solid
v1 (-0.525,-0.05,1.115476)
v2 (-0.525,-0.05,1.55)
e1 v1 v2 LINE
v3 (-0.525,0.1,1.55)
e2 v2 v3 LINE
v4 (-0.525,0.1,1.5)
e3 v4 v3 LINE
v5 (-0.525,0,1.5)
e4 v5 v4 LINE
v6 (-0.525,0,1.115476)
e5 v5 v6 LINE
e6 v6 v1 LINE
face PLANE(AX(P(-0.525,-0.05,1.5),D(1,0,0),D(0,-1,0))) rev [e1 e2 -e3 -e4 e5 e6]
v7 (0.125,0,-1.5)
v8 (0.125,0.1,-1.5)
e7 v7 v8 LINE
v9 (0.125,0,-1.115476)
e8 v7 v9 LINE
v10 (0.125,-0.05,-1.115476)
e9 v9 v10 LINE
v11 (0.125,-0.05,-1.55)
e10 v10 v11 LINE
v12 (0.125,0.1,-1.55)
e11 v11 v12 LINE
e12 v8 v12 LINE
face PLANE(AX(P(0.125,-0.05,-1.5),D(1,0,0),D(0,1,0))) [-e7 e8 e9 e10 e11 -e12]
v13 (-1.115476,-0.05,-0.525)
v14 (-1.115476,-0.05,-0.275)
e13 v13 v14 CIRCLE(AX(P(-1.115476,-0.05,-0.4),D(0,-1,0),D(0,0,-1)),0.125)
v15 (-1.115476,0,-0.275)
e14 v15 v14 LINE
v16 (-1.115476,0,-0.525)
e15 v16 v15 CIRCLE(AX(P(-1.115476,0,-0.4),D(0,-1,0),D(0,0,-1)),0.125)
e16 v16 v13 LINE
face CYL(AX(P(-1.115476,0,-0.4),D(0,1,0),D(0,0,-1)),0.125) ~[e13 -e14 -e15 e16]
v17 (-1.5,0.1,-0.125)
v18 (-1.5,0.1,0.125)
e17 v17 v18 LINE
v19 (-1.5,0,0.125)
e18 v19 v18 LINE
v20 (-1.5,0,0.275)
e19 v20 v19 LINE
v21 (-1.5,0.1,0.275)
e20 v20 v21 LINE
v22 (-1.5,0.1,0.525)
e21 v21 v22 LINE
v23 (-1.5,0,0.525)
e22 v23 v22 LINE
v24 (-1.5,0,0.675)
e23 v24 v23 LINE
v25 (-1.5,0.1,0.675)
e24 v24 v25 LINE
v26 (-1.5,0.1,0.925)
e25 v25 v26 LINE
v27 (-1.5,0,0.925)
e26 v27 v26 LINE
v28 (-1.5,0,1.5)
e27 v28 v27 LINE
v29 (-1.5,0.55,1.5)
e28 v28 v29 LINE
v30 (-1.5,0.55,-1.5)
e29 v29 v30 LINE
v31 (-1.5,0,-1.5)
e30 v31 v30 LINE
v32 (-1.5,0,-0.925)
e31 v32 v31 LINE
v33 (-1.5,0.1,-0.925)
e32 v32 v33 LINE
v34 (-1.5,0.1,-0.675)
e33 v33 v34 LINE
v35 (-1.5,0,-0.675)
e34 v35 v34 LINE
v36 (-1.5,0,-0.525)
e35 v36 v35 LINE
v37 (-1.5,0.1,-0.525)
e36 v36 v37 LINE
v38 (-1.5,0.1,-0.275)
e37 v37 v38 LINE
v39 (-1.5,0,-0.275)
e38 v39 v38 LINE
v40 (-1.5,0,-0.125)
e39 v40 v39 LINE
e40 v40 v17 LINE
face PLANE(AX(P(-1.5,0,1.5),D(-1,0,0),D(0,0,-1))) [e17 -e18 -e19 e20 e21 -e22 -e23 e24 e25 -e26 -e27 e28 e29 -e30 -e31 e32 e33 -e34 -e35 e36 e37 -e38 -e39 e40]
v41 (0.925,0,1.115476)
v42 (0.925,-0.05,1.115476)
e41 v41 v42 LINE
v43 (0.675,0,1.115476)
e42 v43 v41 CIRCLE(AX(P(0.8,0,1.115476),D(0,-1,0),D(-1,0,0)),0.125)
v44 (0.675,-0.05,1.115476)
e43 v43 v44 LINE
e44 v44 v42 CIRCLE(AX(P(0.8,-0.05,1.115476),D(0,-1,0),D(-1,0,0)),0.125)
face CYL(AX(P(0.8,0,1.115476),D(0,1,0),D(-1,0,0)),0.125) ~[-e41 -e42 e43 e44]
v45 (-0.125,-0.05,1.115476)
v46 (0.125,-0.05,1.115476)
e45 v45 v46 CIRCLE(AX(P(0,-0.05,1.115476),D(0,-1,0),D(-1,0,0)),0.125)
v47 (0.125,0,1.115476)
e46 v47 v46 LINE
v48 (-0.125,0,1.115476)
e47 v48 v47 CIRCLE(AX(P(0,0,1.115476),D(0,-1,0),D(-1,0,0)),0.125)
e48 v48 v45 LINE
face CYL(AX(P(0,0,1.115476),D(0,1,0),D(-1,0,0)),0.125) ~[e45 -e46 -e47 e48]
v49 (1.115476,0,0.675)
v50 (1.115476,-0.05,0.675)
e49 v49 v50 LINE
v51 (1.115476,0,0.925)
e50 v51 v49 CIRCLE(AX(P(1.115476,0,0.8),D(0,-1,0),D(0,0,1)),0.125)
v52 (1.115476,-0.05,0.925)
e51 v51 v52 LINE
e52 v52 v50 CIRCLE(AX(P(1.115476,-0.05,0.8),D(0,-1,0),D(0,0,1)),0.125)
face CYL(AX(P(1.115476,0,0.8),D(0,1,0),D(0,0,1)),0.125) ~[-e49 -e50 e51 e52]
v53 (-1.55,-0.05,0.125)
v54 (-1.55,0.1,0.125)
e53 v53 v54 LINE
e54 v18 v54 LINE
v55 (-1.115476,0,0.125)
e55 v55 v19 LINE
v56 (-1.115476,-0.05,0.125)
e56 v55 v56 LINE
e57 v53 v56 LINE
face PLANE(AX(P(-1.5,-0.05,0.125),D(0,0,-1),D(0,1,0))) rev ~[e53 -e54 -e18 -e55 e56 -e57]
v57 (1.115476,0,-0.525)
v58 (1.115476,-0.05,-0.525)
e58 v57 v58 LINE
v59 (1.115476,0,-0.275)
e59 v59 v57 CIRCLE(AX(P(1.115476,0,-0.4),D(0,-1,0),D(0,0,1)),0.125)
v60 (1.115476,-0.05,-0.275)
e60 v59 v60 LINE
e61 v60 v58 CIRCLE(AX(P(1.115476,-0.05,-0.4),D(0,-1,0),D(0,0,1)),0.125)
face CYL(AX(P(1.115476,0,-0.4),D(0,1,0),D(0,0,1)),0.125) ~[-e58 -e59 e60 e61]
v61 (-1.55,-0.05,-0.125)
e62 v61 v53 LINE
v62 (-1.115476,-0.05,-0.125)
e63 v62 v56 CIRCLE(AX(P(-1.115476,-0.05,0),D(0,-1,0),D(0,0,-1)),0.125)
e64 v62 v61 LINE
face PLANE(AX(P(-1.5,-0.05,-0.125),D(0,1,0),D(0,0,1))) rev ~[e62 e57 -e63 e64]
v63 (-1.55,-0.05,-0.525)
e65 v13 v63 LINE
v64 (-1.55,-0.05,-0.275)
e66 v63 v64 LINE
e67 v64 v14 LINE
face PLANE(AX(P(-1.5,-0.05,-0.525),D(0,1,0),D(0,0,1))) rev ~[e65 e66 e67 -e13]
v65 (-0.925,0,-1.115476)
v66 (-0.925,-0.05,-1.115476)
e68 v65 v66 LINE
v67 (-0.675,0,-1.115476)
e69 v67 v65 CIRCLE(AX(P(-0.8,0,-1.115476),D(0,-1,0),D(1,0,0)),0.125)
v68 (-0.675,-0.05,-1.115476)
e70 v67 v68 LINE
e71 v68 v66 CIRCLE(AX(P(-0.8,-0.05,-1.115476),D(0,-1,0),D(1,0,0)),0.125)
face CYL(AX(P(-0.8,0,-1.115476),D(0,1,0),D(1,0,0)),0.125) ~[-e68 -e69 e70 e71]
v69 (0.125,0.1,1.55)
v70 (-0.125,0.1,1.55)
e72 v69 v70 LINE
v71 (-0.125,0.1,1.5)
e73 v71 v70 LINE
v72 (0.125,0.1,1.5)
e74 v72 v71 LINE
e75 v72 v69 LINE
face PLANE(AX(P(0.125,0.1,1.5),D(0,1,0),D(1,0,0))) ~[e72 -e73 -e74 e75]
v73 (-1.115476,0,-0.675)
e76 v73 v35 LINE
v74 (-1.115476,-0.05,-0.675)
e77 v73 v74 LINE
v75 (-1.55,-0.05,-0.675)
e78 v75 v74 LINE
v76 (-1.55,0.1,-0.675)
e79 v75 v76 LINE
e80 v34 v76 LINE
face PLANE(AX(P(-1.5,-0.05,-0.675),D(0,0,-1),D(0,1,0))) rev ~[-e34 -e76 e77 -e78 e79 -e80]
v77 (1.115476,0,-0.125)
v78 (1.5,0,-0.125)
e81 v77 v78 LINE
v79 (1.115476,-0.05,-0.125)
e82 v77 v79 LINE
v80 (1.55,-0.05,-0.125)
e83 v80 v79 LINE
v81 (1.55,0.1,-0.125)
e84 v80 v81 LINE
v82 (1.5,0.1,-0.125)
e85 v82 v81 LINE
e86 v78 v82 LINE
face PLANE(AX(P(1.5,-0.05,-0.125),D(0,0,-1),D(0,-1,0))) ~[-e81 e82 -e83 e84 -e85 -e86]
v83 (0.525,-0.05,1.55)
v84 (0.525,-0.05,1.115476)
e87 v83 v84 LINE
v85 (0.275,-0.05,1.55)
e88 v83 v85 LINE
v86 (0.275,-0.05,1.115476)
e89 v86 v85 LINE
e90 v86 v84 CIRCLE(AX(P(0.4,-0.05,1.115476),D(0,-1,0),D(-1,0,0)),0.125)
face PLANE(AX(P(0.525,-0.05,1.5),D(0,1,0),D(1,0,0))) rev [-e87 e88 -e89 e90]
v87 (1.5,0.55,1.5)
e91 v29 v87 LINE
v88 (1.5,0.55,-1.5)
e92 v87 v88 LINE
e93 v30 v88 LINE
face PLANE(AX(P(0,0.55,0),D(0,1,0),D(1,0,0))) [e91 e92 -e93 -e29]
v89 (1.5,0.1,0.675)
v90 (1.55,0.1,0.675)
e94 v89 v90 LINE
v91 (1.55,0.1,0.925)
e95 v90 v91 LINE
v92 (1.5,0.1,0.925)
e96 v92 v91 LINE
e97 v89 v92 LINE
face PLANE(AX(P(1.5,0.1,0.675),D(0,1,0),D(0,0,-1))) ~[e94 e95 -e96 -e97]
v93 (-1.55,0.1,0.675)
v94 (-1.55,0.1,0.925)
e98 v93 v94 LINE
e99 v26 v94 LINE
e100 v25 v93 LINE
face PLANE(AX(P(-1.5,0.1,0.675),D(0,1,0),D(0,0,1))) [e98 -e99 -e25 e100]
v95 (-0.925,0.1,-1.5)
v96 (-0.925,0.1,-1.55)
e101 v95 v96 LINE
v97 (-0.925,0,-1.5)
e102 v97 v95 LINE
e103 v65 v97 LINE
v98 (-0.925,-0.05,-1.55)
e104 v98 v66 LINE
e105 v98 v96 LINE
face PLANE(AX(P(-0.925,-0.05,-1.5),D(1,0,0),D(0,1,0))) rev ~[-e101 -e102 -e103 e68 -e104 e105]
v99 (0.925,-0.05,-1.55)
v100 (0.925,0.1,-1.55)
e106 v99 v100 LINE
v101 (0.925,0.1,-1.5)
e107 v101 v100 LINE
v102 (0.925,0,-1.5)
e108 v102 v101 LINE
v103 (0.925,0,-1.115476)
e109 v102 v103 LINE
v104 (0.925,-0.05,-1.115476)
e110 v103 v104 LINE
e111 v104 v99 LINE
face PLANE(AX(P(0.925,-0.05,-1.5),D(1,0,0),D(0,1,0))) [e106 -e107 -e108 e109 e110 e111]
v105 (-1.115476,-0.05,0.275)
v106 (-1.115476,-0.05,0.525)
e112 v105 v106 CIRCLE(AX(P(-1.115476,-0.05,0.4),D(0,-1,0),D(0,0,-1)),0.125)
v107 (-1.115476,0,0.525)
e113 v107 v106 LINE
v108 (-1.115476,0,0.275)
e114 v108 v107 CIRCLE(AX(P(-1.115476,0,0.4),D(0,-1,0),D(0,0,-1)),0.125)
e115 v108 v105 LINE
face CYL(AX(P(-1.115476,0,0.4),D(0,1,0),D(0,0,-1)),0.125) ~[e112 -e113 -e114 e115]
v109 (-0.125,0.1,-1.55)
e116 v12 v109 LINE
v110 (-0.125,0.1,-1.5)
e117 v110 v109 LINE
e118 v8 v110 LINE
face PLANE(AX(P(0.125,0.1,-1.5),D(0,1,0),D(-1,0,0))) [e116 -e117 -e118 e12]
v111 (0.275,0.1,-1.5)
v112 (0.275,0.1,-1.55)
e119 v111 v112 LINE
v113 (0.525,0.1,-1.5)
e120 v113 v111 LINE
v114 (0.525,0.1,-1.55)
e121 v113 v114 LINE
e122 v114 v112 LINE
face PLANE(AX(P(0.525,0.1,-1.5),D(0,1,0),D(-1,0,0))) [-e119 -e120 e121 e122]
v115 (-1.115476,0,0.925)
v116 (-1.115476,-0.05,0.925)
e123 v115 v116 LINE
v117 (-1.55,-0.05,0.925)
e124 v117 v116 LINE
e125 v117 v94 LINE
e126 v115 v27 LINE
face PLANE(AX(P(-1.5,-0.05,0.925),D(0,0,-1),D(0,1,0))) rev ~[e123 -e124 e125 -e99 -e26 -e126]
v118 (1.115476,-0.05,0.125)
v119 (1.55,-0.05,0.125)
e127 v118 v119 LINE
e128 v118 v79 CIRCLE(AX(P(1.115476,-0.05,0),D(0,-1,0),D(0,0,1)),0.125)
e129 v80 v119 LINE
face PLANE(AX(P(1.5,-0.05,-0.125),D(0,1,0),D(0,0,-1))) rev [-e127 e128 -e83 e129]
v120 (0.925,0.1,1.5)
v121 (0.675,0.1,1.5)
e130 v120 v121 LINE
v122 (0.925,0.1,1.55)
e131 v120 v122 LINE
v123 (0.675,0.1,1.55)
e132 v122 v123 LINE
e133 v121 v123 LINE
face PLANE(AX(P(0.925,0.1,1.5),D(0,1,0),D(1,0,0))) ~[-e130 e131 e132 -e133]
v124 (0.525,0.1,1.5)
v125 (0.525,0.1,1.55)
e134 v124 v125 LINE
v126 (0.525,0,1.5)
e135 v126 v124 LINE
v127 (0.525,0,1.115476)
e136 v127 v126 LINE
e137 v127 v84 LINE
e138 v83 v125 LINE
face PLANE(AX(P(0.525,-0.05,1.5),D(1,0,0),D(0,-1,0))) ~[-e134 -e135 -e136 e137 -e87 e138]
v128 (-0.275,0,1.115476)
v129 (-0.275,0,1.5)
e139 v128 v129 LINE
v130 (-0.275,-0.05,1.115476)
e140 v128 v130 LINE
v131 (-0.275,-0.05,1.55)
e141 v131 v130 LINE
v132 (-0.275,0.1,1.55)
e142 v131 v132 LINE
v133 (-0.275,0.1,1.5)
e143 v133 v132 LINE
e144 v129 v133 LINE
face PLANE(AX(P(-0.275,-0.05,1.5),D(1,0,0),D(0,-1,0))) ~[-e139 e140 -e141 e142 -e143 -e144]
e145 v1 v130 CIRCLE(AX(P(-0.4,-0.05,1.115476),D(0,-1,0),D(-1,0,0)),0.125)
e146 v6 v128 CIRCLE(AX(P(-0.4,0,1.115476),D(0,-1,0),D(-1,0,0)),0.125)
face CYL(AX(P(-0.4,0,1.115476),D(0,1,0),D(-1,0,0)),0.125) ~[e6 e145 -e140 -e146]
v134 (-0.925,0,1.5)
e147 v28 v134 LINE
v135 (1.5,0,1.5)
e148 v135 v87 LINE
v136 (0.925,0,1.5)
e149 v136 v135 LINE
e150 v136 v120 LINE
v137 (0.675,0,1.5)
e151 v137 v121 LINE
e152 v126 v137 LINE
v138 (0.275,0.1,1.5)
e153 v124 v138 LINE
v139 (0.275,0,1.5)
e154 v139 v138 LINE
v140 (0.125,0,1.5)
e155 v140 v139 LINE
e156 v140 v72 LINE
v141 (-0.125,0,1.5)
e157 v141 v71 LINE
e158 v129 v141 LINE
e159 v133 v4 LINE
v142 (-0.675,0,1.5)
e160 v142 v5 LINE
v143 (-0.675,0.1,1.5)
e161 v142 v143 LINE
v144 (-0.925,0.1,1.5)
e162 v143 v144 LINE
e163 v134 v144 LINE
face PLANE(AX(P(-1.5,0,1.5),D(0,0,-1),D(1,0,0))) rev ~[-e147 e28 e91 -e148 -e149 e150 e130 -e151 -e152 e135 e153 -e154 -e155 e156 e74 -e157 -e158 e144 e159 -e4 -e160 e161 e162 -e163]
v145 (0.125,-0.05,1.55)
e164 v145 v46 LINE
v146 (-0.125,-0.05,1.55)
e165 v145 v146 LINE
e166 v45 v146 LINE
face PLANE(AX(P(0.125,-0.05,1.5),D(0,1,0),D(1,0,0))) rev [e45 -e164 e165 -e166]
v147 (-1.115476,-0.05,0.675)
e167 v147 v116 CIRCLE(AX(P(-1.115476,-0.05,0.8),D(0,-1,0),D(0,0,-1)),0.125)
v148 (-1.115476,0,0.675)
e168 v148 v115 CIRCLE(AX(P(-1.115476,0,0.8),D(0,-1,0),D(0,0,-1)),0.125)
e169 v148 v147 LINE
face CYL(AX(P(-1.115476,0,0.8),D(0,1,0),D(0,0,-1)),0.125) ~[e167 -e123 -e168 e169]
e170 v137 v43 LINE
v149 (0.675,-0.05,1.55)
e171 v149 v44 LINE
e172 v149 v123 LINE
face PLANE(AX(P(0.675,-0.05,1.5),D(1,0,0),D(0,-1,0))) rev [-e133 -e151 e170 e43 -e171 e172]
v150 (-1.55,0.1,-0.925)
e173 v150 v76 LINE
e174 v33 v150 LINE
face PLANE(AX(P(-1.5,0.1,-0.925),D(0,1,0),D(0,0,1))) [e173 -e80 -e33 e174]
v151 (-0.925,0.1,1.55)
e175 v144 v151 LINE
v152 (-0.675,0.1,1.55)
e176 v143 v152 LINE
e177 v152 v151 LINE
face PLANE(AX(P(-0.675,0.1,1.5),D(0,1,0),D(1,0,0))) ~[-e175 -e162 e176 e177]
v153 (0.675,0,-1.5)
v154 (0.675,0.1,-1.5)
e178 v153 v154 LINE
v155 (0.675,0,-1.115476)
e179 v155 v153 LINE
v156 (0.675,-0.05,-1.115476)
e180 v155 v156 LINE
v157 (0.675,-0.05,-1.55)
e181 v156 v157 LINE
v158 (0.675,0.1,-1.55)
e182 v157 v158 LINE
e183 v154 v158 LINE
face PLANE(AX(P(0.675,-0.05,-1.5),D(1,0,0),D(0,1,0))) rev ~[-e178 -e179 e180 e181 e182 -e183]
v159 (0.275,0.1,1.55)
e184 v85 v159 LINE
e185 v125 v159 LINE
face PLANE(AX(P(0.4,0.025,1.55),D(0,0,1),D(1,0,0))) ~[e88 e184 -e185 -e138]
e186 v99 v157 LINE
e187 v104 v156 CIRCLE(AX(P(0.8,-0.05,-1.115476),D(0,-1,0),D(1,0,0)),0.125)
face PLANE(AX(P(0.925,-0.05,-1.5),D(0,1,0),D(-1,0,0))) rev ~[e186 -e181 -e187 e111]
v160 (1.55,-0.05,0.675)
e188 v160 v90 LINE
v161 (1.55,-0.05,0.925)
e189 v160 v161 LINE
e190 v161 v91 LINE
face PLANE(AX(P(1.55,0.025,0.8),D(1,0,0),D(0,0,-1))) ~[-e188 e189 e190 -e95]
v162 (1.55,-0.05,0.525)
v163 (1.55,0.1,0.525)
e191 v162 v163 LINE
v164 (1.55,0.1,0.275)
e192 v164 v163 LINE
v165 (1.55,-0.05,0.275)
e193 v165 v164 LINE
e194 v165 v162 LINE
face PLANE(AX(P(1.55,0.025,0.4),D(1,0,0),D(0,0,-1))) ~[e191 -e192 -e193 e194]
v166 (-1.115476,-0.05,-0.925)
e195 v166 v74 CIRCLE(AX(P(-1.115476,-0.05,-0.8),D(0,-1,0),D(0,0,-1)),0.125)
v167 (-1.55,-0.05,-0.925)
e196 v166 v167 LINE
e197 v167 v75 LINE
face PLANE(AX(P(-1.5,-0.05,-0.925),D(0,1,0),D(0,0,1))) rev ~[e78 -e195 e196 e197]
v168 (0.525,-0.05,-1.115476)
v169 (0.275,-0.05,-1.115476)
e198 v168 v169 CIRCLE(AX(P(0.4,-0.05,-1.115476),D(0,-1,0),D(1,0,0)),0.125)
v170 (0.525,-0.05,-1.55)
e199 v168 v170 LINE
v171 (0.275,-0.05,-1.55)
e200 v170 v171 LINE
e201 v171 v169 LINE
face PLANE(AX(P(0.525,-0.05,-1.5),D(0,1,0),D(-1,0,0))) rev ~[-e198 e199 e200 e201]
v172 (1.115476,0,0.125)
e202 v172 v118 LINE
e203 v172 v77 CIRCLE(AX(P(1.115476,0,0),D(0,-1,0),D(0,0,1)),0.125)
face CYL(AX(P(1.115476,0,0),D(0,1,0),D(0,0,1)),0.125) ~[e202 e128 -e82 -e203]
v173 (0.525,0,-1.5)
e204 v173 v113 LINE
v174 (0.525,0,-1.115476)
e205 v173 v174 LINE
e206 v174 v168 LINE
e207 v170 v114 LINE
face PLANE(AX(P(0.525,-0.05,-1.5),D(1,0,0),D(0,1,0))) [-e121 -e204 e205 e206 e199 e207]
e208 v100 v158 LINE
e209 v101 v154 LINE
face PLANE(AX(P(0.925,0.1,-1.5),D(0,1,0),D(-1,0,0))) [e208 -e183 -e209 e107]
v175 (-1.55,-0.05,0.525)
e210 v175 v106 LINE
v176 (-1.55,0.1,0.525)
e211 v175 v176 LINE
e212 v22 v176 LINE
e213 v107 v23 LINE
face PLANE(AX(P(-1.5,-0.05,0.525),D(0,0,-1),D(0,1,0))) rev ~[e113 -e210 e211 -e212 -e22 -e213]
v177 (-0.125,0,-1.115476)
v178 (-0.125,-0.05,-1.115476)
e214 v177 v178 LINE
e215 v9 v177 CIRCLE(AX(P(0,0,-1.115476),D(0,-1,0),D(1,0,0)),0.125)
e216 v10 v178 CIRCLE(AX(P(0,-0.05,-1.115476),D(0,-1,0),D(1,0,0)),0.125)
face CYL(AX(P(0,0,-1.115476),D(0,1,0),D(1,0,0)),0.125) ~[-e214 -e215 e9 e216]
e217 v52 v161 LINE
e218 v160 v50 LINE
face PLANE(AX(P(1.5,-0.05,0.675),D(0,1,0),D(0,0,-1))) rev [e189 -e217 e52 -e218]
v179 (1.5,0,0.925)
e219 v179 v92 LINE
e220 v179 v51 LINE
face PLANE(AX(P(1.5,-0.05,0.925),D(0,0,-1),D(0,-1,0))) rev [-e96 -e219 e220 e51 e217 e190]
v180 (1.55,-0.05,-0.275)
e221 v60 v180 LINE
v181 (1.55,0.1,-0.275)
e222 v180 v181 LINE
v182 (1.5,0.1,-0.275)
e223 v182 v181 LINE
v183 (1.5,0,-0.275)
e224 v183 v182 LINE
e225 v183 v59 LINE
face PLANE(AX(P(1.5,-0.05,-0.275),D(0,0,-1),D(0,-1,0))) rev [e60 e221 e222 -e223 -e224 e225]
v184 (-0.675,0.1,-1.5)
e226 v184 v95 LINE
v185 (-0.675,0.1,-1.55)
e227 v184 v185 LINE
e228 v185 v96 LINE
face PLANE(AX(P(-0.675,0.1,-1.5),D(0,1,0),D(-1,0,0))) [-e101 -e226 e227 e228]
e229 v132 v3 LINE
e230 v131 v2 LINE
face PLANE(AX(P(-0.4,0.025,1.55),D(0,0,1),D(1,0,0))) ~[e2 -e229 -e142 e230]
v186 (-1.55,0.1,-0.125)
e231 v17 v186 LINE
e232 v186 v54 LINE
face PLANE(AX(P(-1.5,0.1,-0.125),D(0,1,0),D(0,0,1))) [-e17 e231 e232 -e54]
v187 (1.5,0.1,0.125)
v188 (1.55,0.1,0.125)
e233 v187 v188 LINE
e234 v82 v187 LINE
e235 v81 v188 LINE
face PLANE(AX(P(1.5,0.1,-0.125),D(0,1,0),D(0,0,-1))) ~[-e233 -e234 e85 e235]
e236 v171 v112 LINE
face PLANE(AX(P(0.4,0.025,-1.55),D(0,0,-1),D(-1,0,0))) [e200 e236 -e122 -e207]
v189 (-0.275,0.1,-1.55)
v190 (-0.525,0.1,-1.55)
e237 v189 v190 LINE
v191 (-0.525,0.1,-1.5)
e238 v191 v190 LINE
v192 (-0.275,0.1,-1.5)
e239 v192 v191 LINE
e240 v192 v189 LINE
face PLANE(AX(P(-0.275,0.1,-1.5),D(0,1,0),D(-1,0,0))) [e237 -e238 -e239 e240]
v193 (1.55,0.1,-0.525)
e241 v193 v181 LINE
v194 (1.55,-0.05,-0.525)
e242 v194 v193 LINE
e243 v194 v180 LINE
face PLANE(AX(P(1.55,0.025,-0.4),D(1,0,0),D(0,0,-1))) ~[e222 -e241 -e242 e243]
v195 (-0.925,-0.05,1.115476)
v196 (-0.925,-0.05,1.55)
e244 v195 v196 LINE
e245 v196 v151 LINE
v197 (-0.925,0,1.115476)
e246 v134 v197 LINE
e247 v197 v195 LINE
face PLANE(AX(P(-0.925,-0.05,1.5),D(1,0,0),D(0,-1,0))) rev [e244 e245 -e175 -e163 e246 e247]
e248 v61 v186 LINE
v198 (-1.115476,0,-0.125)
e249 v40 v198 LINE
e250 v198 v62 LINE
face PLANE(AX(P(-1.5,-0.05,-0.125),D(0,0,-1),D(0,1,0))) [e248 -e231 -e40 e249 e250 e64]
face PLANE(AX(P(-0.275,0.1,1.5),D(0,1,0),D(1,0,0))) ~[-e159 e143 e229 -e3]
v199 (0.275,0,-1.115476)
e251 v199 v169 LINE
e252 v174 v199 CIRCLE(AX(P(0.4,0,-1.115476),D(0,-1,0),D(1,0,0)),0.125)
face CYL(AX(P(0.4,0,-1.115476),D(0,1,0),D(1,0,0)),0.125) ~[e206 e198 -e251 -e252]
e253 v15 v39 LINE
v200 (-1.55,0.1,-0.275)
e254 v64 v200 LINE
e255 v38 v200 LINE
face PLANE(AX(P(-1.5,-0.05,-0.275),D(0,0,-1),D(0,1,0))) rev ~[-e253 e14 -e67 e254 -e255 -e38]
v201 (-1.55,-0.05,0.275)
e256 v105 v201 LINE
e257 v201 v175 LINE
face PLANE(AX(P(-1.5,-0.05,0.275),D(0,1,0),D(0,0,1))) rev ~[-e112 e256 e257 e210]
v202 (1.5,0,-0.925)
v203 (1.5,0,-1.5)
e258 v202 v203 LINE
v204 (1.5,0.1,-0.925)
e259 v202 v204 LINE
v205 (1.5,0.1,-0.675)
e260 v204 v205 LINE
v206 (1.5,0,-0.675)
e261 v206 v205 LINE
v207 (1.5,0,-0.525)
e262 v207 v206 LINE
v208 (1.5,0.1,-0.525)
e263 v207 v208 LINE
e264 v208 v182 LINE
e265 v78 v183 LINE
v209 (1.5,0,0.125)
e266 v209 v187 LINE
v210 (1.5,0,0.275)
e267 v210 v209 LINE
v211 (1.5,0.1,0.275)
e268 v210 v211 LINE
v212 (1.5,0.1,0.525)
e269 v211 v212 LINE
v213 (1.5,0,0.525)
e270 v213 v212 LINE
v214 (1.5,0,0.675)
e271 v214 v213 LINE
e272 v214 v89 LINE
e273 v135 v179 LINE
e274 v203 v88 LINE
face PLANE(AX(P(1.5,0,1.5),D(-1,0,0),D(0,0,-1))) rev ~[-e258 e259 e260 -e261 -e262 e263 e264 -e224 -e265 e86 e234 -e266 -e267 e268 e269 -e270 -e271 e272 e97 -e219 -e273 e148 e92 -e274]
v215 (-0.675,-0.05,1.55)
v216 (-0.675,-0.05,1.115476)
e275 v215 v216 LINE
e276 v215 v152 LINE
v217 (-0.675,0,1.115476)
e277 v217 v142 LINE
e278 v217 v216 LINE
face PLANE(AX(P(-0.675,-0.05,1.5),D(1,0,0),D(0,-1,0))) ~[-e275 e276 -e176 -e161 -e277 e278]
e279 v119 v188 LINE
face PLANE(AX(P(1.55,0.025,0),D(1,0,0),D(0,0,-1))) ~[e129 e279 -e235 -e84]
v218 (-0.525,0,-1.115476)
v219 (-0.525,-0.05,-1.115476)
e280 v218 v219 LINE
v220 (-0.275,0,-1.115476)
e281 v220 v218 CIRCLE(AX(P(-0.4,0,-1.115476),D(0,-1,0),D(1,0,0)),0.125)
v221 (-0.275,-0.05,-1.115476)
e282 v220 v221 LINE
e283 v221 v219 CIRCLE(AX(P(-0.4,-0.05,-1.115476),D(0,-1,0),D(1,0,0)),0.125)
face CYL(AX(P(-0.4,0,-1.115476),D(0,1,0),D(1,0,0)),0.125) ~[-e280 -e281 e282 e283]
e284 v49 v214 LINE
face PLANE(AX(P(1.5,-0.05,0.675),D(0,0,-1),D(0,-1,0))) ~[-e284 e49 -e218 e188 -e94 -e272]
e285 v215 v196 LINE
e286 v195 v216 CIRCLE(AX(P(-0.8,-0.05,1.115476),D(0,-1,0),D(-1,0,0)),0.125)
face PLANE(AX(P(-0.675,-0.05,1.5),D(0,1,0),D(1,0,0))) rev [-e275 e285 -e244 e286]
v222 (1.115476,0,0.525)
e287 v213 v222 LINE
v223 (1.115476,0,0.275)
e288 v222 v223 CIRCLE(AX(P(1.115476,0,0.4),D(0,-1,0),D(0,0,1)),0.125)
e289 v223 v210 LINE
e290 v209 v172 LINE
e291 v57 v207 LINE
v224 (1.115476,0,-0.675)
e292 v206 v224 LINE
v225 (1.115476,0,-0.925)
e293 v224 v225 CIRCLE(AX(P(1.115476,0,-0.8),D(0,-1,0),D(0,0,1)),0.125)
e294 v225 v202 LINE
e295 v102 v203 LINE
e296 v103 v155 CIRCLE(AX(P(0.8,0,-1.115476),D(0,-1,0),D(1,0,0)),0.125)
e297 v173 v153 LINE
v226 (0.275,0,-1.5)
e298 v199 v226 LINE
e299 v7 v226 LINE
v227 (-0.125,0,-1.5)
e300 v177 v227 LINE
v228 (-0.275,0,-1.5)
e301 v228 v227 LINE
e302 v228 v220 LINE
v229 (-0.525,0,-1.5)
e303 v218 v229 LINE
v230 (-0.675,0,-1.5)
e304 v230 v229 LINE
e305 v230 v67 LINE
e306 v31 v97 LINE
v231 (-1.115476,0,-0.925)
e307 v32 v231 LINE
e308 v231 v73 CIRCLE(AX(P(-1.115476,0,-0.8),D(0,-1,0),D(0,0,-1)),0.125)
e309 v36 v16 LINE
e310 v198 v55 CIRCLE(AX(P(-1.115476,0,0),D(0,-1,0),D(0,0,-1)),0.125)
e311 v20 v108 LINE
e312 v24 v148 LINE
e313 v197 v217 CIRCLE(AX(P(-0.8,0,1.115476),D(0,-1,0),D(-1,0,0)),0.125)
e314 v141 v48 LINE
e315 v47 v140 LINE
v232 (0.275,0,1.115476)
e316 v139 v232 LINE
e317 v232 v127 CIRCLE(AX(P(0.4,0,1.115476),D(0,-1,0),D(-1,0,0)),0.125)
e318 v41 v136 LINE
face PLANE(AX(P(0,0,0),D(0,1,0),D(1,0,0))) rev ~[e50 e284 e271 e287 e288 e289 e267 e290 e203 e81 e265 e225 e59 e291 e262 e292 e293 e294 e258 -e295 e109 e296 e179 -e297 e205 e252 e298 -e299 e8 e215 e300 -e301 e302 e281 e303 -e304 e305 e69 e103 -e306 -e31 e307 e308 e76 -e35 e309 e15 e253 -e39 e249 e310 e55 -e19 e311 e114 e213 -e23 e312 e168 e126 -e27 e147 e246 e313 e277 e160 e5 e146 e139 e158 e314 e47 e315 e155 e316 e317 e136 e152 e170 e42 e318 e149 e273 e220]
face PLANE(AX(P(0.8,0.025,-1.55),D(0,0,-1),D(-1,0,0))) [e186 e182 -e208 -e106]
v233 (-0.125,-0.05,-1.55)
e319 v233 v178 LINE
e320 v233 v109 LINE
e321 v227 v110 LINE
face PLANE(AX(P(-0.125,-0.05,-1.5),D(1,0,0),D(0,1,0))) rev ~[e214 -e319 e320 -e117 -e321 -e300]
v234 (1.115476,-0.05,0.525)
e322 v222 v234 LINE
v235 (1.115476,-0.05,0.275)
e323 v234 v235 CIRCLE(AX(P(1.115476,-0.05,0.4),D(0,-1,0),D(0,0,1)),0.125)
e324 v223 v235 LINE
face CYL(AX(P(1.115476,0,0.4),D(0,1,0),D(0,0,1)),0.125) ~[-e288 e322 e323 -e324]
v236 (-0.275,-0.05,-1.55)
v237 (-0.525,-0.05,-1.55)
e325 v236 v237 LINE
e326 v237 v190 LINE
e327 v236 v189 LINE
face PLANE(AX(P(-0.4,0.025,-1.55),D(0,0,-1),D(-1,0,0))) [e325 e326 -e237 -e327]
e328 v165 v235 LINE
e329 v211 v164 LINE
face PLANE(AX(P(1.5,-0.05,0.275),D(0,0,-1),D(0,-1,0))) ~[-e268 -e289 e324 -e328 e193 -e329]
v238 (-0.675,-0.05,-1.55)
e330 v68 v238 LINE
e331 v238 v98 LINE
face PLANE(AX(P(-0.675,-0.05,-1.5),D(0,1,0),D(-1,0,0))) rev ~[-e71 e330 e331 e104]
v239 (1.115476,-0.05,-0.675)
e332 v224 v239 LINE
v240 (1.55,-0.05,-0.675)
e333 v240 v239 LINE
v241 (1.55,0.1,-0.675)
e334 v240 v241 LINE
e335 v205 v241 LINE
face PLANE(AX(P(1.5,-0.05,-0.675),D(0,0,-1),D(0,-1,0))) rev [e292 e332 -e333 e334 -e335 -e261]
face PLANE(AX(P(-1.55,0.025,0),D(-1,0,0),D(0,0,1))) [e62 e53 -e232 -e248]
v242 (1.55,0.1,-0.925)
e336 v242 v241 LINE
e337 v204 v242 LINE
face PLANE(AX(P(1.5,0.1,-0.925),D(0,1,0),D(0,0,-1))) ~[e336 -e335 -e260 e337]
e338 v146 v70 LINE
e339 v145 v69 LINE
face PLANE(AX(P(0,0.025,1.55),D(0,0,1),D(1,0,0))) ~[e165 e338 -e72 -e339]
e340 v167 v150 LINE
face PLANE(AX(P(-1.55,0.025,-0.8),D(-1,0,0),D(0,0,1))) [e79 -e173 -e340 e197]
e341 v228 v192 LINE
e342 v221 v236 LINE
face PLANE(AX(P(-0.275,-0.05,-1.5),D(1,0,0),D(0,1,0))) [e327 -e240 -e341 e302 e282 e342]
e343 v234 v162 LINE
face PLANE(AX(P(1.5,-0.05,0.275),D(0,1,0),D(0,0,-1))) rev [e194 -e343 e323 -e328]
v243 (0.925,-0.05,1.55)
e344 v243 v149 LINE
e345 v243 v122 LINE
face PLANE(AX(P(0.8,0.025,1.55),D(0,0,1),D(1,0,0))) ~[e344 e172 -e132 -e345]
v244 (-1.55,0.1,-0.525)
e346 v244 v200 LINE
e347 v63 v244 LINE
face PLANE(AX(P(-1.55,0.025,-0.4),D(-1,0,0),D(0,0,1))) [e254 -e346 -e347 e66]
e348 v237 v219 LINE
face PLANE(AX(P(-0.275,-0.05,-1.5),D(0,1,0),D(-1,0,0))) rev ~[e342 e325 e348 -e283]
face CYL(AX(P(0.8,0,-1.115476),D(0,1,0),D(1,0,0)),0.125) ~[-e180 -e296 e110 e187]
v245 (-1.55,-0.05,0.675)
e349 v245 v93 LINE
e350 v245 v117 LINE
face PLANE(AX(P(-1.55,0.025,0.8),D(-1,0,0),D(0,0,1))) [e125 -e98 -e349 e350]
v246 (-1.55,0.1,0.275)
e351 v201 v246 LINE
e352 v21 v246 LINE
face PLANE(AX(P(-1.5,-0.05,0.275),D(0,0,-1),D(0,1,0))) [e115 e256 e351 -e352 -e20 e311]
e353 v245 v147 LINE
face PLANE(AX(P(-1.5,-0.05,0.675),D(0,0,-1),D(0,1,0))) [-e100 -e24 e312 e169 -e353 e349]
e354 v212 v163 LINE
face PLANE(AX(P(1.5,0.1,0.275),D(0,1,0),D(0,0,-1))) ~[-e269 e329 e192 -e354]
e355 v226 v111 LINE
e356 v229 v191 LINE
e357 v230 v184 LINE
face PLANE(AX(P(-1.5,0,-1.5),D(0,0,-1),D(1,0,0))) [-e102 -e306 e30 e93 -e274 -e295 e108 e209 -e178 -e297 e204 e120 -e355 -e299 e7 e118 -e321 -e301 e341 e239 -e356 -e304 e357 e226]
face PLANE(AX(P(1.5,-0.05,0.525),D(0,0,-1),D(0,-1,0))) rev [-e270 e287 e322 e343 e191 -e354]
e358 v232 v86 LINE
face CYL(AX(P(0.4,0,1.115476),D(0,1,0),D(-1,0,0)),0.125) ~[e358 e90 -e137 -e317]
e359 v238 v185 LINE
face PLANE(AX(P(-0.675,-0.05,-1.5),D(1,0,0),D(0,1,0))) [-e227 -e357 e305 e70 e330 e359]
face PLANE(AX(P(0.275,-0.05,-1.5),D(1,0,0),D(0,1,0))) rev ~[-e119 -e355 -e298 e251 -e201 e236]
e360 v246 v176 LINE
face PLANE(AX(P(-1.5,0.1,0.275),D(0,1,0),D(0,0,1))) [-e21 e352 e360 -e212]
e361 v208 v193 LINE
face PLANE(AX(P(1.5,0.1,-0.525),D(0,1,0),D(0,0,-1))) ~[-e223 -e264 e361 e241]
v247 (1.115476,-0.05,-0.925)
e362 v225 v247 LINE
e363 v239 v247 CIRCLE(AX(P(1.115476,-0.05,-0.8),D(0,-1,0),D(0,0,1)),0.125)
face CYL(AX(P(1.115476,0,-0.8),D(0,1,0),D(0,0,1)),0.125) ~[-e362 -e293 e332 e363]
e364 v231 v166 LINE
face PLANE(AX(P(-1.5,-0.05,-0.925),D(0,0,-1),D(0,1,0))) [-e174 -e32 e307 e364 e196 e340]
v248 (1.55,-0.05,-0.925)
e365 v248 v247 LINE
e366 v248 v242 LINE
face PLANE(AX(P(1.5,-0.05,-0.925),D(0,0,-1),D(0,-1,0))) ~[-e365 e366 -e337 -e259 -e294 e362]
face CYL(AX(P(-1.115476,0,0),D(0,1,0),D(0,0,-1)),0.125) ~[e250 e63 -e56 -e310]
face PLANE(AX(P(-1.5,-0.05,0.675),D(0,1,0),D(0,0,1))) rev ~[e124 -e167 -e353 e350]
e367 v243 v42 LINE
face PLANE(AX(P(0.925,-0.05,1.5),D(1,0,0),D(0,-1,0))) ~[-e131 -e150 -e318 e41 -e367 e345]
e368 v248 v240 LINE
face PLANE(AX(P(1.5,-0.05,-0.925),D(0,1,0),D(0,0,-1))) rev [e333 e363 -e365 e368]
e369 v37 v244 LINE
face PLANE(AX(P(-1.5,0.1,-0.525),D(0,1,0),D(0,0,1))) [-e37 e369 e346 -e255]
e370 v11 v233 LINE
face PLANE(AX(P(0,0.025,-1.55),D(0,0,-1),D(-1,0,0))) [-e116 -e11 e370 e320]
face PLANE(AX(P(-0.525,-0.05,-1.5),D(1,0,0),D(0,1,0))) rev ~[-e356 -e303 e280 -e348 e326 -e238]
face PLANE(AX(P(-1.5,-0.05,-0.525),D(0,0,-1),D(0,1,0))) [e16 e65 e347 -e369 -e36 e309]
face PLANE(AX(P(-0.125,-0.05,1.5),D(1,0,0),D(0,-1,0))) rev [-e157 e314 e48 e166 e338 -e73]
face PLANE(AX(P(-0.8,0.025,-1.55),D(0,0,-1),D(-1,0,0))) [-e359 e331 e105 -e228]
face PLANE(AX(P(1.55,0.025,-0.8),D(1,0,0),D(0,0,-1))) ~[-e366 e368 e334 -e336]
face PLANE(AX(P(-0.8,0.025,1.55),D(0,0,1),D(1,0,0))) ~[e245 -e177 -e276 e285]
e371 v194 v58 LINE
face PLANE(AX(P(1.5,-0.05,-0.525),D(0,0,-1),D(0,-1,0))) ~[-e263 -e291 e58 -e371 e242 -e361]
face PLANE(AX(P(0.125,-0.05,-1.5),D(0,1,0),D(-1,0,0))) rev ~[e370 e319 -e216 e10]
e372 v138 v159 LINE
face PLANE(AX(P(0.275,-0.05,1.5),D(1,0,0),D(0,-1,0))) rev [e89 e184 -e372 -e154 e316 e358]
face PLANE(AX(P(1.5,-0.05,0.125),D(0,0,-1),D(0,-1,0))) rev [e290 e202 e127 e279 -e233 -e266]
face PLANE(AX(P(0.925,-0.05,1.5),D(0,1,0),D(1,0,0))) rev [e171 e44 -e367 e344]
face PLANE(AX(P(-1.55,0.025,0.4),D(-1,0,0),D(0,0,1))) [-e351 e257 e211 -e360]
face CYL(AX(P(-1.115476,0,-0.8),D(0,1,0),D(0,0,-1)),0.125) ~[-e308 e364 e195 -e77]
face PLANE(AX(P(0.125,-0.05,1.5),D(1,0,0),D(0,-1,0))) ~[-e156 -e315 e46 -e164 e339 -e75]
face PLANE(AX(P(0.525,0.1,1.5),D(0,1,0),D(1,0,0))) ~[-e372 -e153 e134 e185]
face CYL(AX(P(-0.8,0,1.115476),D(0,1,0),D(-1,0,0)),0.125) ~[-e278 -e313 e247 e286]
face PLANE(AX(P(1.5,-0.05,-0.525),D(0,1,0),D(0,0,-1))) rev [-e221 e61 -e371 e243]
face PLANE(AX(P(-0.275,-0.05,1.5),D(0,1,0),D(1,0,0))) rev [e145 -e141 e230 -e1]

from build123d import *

# Parameters (mm, degrees)
SKETCH1_W               = 3
SKETCH1_H               = 3
BOSS_EXTRUDE1_DEPTH     = 0.55
BOSS_EXTRUDE2_DEPTH     = 0.05
SKETCH3_W               = 0.25
SKETCH3_H               = 0.15
BOSS_EXTRUDE3_DEPTH     = 0.05
MIRROR3_COPY_1_SKETCH_W = 0.25
MIRROR3_COPY_1_SKETCH_H = 0.15
MIRROR3_COPY_1_DEPTH    = 0.05
MIRROR3_COPY_2_SKETCH_W = 0.25
MIRROR3_COPY_2_SKETCH_H = 0.15
MIRROR3_COPY_2_DEPTH    = 0.05


with BuildPart() as part:
    # Sketch1 → Boss-Extrude1 (new body)
    with BuildSketch(Plane(origin=(0, 0, 0), x_dir=(1, 0, 0), z_dir=(0, 1, 0))):
        Rectangle(SKETCH1_W, SKETCH1_H)
    extrude(amount=BOSS_EXTRUDE1_DEPTH)

    # Sketch2 → Boss-Extrude2 (add)
    with BuildSketch(Plane.XZ):
        with BuildLine():
            Line((-1.115476413, -0.675), (-1.5, -0.675))
            Line((-1.5, -0.675), (-1.5, -0.925))
            Line((-1.5, -0.925), (-1.115476413, -0.925))
            ThreePointArc((-1.115476413, -0.925), (-0.990476413, -0.8), (-1.115476413, -0.675))
        make_face()
        with BuildLine():
            Line((-1.115476413, -0.275), (-1.5, -0.275))
            Line((-1.5, -0.275), (-1.5, -0.525))
            Line((-1.5, -0.525), (-1.115476413, -0.525))
            ThreePointArc((-1.115476413, -0.525), (-0.990476413, -0.4), (-1.115476413, -0.275))
        make_face()
        with BuildLine():
            Line((-1.115476413, 0.525), (-1.5, 0.525))
            Line((-1.5, 0.525), (-1.5, 0.275))
            Line((-1.5, 0.275), (-1.115476413, 0.275))
            ThreePointArc((-1.115476413, 0.275), (-0.990476413, 0.4), (-1.115476413, 0.525))
        make_face()
        with BuildLine():
            Line((-1.115476413, 0.925), (-1.5, 0.925))
            Line((-1.5, 0.925), (-1.5, 0.675))
            Line((-1.5, 0.675), (-1.115476413, 0.675))
            ThreePointArc((-1.115476413, 0.675), (-0.990476413, 0.8), (-1.115476413, 0.925))
        make_face()
        with BuildLine():
            Line((-0.675, 1.115476413), (-0.675, 1.5))
            Line((-0.675, 1.5), (-0.925, 1.5))
            Line((-0.925, 1.5), (-0.925, 1.115476413))
            ThreePointArc((-0.925, 1.115476413), (-0.8, 0.990476413), (-0.675, 1.115476413))
        make_face()
        with BuildLine():
            Line((-0.275, 1.115476413), (-0.275, 1.5))
            Line((-0.275, 1.5), (-0.525, 1.5))
            Line((-0.525, 1.5), (-0.525, 1.115476413))
            ThreePointArc((-0.525, 1.115476413), (-0.4, 0.990476413), (-0.275, 1.115476413))
        make_face()
        with BuildLine():
            Line((0.125, 1.5), (-0.125, 1.5))
            Line((-0.125, 1.5), (-0.125, 1.115476413))
            ThreePointArc((-0.125, 1.115476413), (0, 0.990476413), (0.125, 1.115476413))
            Line((0.125, 1.115476413), (0.125, 1.5))
        make_face()
        with BuildLine():
            Line((0.525, 1.5), (0.275, 1.5))
            Line((0.275, 1.5), (0.275, 1.115476413))
            ThreePointArc((0.275, 1.115476413), (0.4, 0.990476413), (0.525, 1.115476413))
            Line((0.525, 1.115476413), (0.525, 1.5))
        make_face()
        with BuildLine():
            Line((0.925, 1.5), (0.675, 1.5))
            Line((0.675, 1.5), (0.675, 1.115476413))
            ThreePointArc((0.675, 1.115476413), (0.8, 0.990476413), (0.925, 1.115476413))
            Line((0.925, 1.115476413), (0.925, 1.5))
        make_face()
        with BuildLine():
            Line((1.5, 0.675), (1.5, 0.925))
            Line((1.5, 0.925), (1.115476413, 0.925))
            ThreePointArc((1.115476413, 0.925), (0.990476413, 0.8), (1.115476413, 0.675))
            Line((1.115476413, 0.675), (1.5, 0.675))
        make_face()
        with BuildLine():
            Line((1.5, 0.275), (1.5, 0.525))
            Line((1.5, 0.525), (1.115476413, 0.525))
            ThreePointArc((1.115476413, 0.525), (0.990476413, 0.4), (1.115476413, 0.275))
            Line((1.115476413, 0.275), (1.5, 0.275))
        make_face()
        with BuildLine():
            Line((1.5, -0.125), (1.5, 0.125))
            Line((1.5, 0.125), (1.115476413, 0.125))
            ThreePointArc((1.115476413, 0.125), (0.990476413, 0), (1.115476413, -0.125))
            Line((1.115476413, -0.125), (1.5, -0.125))
        make_face()
        with BuildLine():
            Line((1.5, -0.525), (1.5, -0.275))
            Line((1.5, -0.275), (1.115476413, -0.275))
            ThreePointArc((1.115476413, -0.275), (0.990476413, -0.4), (1.115476413, -0.525))
            Line((1.115476413, -0.525), (1.5, -0.525))
        make_face()
        with BuildLine():
            Line((1.5, -0.925), (1.5, -0.675))
            Line((1.5, -0.675), (1.115476413, -0.675))
            ThreePointArc((1.115476413, -0.675), (0.990476413, -0.8), (1.115476413, -0.925))
            Line((1.115476413, -0.925), (1.5, -0.925))
        make_face()
        with BuildLine():
            Line((0.675, -1.5), (0.925, -1.5))
            Line((0.925, -1.5), (0.925, -1.115476413))
            ThreePointArc((0.925, -1.115476413), (0.8, -0.990476413), (0.675, -1.115476413))
            Line((0.675, -1.115476413), (0.675, -1.5))
        make_face()
        with BuildLine():
            Line((0.275, -1.5), (0.525, -1.5))
            Line((0.525, -1.5), (0.525, -1.115476413))
            ThreePointArc((0.525, -1.115476413), (0.4, -0.990476413), (0.275, -1.115476413))
            Line((0.275, -1.115476413), (0.275, -1.5))
        make_face()
        with BuildLine():
            Line((-0.125, -1.115476413), (-0.125, -1.5))
            Line((-0.125, -1.5), (0.125, -1.5))
            Line((0.125, -1.5), (0.125, -1.115476413))
            ThreePointArc((0.125, -1.115476413), (0, -0.990476413), (-0.125, -1.115476413))
        make_face()
        with BuildLine():
            Line((-0.525, -1.115476413), (-0.525, -1.5))
            Line((-0.525, -1.5), (-0.275, -1.5))
            Line((-0.275, -1.5), (-0.275, -1.115476413))
            ThreePointArc((-0.275, -1.115476413), (-0.4, -0.990476413), (-0.525, -1.115476413))
        make_face()
        with BuildLine():
            Line((-0.925, -1.115476413), (-0.925, -1.5))
            Line((-0.925, -1.5), (-0.675, -1.5))
            Line((-0.675, -1.5), (-0.675, -1.115476413))
            ThreePointArc((-0.675, -1.115476413), (-0.8, -0.990476413), (-0.925, -1.115476413))
        make_face()
        with BuildLine():
            Line((-1.5, -0.125), (-1.115476413, -0.125))
            ThreePointArc((-1.115476413, -0.125), (-0.990476413, 0), (-1.115476413, 0.125))
            Line((-1.115476413, 0.125), (-1.5, 0.125))
            Line((-1.5, 0.125), (-1.5, -0.125))
        make_face()
    extrude(amount=BOSS_EXTRUDE2_DEPTH)

    # Sketch3 → Boss-Extrude3 (add)
    with BuildSketch(Plane.ZY.offset(1.5)):
        with Locations((-0.8, 0.025)):
            Rectangle(SKETCH3_W, SKETCH3_H)
        with Locations((-0.4, 0.025)):
            Rectangle(SKETCH3_W, SKETCH3_H)
        with Locations((0, 0.025)):
            Rectangle(SKETCH3_W, SKETCH3_H)
        with Locations((0.4, 0.025)):
            Rectangle(SKETCH3_W, SKETCH3_H)
        with Locations((0.8, 0.025)):
            Rectangle(SKETCH3_W, SKETCH3_H)
    boss_extrude3 = extrude(amount=BOSS_EXTRUDE3_DEPTH)

    # Mirror1: Boss-Extrude3 across plane
    add(boss_extrude3.mirror(Plane.ZY))

    # Mirror2: Boss-Extrude3 across plane
    add(boss_extrude3.mirror(Plane(origin=(0, 0, 0), x_dir=(-0.707106781, 0, 0.707106781), z_dir=(0.707106781, 0, 0.707106781))))

    # Mirror3 copy 1 sketch → Mirror3 copy 1 (add)
    with BuildSketch(Plane(origin=(0, 0, -1.5), x_dir=(-1, 0, 0), z_dir=(0, 0, -1))):
        with Locations((-0.8, 0.025)):
            Rectangle(MIRROR3_COPY_1_SKETCH_W, MIRROR3_COPY_1_SKETCH_H)
        with Locations((-0.4, 0.025)):
            Rectangle(MIRROR3_COPY_1_SKETCH_W, MIRROR3_COPY_1_SKETCH_H)
        with Locations((0, 0.025)):
            Rectangle(MIRROR3_COPY_1_SKETCH_W, MIRROR3_COPY_1_SKETCH_H)
        with Locations((0.4, 0.025)):
            Rectangle(MIRROR3_COPY_1_SKETCH_W, MIRROR3_COPY_1_SKETCH_H)
        with Locations((0.8, 0.025)):
            Rectangle(MIRROR3_COPY_1_SKETCH_W, MIRROR3_COPY_1_SKETCH_H)
    extrude(amount=MIRROR3_COPY_1_DEPTH)

    # Mirror3 copy 2 sketch → Mirror3 copy 2 (add)
    with BuildSketch(Plane(origin=(-1.5, 0, 0), x_dir=(0, 0, -1), z_dir=(-1, 0, 0))):
        with Locations((-0.8, -0.025)):
            Rectangle(MIRROR3_COPY_2_SKETCH_W, MIRROR3_COPY_2_SKETCH_H)
        with Locations((-0.4, -0.025)):
            Rectangle(MIRROR3_COPY_2_SKETCH_W, MIRROR3_COPY_2_SKETCH_H)
        with Locations((0, -0.025)):
            Rectangle(MIRROR3_COPY_2_SKETCH_W, MIRROR3_COPY_2_SKETCH_H)
        with Locations((0.4, -0.025)):
            Rectangle(MIRROR3_COPY_2_SKETCH_W, MIRROR3_COPY_2_SKETCH_H)
        with Locations((0.8, -0.025)):
            Rectangle(MIRROR3_COPY_2_SKETCH_W, MIRROR3_COPY_2_SKETCH_H)
    extrude(amount=MIRROR3_COPY_2_DEPTH)


solid = part.part
